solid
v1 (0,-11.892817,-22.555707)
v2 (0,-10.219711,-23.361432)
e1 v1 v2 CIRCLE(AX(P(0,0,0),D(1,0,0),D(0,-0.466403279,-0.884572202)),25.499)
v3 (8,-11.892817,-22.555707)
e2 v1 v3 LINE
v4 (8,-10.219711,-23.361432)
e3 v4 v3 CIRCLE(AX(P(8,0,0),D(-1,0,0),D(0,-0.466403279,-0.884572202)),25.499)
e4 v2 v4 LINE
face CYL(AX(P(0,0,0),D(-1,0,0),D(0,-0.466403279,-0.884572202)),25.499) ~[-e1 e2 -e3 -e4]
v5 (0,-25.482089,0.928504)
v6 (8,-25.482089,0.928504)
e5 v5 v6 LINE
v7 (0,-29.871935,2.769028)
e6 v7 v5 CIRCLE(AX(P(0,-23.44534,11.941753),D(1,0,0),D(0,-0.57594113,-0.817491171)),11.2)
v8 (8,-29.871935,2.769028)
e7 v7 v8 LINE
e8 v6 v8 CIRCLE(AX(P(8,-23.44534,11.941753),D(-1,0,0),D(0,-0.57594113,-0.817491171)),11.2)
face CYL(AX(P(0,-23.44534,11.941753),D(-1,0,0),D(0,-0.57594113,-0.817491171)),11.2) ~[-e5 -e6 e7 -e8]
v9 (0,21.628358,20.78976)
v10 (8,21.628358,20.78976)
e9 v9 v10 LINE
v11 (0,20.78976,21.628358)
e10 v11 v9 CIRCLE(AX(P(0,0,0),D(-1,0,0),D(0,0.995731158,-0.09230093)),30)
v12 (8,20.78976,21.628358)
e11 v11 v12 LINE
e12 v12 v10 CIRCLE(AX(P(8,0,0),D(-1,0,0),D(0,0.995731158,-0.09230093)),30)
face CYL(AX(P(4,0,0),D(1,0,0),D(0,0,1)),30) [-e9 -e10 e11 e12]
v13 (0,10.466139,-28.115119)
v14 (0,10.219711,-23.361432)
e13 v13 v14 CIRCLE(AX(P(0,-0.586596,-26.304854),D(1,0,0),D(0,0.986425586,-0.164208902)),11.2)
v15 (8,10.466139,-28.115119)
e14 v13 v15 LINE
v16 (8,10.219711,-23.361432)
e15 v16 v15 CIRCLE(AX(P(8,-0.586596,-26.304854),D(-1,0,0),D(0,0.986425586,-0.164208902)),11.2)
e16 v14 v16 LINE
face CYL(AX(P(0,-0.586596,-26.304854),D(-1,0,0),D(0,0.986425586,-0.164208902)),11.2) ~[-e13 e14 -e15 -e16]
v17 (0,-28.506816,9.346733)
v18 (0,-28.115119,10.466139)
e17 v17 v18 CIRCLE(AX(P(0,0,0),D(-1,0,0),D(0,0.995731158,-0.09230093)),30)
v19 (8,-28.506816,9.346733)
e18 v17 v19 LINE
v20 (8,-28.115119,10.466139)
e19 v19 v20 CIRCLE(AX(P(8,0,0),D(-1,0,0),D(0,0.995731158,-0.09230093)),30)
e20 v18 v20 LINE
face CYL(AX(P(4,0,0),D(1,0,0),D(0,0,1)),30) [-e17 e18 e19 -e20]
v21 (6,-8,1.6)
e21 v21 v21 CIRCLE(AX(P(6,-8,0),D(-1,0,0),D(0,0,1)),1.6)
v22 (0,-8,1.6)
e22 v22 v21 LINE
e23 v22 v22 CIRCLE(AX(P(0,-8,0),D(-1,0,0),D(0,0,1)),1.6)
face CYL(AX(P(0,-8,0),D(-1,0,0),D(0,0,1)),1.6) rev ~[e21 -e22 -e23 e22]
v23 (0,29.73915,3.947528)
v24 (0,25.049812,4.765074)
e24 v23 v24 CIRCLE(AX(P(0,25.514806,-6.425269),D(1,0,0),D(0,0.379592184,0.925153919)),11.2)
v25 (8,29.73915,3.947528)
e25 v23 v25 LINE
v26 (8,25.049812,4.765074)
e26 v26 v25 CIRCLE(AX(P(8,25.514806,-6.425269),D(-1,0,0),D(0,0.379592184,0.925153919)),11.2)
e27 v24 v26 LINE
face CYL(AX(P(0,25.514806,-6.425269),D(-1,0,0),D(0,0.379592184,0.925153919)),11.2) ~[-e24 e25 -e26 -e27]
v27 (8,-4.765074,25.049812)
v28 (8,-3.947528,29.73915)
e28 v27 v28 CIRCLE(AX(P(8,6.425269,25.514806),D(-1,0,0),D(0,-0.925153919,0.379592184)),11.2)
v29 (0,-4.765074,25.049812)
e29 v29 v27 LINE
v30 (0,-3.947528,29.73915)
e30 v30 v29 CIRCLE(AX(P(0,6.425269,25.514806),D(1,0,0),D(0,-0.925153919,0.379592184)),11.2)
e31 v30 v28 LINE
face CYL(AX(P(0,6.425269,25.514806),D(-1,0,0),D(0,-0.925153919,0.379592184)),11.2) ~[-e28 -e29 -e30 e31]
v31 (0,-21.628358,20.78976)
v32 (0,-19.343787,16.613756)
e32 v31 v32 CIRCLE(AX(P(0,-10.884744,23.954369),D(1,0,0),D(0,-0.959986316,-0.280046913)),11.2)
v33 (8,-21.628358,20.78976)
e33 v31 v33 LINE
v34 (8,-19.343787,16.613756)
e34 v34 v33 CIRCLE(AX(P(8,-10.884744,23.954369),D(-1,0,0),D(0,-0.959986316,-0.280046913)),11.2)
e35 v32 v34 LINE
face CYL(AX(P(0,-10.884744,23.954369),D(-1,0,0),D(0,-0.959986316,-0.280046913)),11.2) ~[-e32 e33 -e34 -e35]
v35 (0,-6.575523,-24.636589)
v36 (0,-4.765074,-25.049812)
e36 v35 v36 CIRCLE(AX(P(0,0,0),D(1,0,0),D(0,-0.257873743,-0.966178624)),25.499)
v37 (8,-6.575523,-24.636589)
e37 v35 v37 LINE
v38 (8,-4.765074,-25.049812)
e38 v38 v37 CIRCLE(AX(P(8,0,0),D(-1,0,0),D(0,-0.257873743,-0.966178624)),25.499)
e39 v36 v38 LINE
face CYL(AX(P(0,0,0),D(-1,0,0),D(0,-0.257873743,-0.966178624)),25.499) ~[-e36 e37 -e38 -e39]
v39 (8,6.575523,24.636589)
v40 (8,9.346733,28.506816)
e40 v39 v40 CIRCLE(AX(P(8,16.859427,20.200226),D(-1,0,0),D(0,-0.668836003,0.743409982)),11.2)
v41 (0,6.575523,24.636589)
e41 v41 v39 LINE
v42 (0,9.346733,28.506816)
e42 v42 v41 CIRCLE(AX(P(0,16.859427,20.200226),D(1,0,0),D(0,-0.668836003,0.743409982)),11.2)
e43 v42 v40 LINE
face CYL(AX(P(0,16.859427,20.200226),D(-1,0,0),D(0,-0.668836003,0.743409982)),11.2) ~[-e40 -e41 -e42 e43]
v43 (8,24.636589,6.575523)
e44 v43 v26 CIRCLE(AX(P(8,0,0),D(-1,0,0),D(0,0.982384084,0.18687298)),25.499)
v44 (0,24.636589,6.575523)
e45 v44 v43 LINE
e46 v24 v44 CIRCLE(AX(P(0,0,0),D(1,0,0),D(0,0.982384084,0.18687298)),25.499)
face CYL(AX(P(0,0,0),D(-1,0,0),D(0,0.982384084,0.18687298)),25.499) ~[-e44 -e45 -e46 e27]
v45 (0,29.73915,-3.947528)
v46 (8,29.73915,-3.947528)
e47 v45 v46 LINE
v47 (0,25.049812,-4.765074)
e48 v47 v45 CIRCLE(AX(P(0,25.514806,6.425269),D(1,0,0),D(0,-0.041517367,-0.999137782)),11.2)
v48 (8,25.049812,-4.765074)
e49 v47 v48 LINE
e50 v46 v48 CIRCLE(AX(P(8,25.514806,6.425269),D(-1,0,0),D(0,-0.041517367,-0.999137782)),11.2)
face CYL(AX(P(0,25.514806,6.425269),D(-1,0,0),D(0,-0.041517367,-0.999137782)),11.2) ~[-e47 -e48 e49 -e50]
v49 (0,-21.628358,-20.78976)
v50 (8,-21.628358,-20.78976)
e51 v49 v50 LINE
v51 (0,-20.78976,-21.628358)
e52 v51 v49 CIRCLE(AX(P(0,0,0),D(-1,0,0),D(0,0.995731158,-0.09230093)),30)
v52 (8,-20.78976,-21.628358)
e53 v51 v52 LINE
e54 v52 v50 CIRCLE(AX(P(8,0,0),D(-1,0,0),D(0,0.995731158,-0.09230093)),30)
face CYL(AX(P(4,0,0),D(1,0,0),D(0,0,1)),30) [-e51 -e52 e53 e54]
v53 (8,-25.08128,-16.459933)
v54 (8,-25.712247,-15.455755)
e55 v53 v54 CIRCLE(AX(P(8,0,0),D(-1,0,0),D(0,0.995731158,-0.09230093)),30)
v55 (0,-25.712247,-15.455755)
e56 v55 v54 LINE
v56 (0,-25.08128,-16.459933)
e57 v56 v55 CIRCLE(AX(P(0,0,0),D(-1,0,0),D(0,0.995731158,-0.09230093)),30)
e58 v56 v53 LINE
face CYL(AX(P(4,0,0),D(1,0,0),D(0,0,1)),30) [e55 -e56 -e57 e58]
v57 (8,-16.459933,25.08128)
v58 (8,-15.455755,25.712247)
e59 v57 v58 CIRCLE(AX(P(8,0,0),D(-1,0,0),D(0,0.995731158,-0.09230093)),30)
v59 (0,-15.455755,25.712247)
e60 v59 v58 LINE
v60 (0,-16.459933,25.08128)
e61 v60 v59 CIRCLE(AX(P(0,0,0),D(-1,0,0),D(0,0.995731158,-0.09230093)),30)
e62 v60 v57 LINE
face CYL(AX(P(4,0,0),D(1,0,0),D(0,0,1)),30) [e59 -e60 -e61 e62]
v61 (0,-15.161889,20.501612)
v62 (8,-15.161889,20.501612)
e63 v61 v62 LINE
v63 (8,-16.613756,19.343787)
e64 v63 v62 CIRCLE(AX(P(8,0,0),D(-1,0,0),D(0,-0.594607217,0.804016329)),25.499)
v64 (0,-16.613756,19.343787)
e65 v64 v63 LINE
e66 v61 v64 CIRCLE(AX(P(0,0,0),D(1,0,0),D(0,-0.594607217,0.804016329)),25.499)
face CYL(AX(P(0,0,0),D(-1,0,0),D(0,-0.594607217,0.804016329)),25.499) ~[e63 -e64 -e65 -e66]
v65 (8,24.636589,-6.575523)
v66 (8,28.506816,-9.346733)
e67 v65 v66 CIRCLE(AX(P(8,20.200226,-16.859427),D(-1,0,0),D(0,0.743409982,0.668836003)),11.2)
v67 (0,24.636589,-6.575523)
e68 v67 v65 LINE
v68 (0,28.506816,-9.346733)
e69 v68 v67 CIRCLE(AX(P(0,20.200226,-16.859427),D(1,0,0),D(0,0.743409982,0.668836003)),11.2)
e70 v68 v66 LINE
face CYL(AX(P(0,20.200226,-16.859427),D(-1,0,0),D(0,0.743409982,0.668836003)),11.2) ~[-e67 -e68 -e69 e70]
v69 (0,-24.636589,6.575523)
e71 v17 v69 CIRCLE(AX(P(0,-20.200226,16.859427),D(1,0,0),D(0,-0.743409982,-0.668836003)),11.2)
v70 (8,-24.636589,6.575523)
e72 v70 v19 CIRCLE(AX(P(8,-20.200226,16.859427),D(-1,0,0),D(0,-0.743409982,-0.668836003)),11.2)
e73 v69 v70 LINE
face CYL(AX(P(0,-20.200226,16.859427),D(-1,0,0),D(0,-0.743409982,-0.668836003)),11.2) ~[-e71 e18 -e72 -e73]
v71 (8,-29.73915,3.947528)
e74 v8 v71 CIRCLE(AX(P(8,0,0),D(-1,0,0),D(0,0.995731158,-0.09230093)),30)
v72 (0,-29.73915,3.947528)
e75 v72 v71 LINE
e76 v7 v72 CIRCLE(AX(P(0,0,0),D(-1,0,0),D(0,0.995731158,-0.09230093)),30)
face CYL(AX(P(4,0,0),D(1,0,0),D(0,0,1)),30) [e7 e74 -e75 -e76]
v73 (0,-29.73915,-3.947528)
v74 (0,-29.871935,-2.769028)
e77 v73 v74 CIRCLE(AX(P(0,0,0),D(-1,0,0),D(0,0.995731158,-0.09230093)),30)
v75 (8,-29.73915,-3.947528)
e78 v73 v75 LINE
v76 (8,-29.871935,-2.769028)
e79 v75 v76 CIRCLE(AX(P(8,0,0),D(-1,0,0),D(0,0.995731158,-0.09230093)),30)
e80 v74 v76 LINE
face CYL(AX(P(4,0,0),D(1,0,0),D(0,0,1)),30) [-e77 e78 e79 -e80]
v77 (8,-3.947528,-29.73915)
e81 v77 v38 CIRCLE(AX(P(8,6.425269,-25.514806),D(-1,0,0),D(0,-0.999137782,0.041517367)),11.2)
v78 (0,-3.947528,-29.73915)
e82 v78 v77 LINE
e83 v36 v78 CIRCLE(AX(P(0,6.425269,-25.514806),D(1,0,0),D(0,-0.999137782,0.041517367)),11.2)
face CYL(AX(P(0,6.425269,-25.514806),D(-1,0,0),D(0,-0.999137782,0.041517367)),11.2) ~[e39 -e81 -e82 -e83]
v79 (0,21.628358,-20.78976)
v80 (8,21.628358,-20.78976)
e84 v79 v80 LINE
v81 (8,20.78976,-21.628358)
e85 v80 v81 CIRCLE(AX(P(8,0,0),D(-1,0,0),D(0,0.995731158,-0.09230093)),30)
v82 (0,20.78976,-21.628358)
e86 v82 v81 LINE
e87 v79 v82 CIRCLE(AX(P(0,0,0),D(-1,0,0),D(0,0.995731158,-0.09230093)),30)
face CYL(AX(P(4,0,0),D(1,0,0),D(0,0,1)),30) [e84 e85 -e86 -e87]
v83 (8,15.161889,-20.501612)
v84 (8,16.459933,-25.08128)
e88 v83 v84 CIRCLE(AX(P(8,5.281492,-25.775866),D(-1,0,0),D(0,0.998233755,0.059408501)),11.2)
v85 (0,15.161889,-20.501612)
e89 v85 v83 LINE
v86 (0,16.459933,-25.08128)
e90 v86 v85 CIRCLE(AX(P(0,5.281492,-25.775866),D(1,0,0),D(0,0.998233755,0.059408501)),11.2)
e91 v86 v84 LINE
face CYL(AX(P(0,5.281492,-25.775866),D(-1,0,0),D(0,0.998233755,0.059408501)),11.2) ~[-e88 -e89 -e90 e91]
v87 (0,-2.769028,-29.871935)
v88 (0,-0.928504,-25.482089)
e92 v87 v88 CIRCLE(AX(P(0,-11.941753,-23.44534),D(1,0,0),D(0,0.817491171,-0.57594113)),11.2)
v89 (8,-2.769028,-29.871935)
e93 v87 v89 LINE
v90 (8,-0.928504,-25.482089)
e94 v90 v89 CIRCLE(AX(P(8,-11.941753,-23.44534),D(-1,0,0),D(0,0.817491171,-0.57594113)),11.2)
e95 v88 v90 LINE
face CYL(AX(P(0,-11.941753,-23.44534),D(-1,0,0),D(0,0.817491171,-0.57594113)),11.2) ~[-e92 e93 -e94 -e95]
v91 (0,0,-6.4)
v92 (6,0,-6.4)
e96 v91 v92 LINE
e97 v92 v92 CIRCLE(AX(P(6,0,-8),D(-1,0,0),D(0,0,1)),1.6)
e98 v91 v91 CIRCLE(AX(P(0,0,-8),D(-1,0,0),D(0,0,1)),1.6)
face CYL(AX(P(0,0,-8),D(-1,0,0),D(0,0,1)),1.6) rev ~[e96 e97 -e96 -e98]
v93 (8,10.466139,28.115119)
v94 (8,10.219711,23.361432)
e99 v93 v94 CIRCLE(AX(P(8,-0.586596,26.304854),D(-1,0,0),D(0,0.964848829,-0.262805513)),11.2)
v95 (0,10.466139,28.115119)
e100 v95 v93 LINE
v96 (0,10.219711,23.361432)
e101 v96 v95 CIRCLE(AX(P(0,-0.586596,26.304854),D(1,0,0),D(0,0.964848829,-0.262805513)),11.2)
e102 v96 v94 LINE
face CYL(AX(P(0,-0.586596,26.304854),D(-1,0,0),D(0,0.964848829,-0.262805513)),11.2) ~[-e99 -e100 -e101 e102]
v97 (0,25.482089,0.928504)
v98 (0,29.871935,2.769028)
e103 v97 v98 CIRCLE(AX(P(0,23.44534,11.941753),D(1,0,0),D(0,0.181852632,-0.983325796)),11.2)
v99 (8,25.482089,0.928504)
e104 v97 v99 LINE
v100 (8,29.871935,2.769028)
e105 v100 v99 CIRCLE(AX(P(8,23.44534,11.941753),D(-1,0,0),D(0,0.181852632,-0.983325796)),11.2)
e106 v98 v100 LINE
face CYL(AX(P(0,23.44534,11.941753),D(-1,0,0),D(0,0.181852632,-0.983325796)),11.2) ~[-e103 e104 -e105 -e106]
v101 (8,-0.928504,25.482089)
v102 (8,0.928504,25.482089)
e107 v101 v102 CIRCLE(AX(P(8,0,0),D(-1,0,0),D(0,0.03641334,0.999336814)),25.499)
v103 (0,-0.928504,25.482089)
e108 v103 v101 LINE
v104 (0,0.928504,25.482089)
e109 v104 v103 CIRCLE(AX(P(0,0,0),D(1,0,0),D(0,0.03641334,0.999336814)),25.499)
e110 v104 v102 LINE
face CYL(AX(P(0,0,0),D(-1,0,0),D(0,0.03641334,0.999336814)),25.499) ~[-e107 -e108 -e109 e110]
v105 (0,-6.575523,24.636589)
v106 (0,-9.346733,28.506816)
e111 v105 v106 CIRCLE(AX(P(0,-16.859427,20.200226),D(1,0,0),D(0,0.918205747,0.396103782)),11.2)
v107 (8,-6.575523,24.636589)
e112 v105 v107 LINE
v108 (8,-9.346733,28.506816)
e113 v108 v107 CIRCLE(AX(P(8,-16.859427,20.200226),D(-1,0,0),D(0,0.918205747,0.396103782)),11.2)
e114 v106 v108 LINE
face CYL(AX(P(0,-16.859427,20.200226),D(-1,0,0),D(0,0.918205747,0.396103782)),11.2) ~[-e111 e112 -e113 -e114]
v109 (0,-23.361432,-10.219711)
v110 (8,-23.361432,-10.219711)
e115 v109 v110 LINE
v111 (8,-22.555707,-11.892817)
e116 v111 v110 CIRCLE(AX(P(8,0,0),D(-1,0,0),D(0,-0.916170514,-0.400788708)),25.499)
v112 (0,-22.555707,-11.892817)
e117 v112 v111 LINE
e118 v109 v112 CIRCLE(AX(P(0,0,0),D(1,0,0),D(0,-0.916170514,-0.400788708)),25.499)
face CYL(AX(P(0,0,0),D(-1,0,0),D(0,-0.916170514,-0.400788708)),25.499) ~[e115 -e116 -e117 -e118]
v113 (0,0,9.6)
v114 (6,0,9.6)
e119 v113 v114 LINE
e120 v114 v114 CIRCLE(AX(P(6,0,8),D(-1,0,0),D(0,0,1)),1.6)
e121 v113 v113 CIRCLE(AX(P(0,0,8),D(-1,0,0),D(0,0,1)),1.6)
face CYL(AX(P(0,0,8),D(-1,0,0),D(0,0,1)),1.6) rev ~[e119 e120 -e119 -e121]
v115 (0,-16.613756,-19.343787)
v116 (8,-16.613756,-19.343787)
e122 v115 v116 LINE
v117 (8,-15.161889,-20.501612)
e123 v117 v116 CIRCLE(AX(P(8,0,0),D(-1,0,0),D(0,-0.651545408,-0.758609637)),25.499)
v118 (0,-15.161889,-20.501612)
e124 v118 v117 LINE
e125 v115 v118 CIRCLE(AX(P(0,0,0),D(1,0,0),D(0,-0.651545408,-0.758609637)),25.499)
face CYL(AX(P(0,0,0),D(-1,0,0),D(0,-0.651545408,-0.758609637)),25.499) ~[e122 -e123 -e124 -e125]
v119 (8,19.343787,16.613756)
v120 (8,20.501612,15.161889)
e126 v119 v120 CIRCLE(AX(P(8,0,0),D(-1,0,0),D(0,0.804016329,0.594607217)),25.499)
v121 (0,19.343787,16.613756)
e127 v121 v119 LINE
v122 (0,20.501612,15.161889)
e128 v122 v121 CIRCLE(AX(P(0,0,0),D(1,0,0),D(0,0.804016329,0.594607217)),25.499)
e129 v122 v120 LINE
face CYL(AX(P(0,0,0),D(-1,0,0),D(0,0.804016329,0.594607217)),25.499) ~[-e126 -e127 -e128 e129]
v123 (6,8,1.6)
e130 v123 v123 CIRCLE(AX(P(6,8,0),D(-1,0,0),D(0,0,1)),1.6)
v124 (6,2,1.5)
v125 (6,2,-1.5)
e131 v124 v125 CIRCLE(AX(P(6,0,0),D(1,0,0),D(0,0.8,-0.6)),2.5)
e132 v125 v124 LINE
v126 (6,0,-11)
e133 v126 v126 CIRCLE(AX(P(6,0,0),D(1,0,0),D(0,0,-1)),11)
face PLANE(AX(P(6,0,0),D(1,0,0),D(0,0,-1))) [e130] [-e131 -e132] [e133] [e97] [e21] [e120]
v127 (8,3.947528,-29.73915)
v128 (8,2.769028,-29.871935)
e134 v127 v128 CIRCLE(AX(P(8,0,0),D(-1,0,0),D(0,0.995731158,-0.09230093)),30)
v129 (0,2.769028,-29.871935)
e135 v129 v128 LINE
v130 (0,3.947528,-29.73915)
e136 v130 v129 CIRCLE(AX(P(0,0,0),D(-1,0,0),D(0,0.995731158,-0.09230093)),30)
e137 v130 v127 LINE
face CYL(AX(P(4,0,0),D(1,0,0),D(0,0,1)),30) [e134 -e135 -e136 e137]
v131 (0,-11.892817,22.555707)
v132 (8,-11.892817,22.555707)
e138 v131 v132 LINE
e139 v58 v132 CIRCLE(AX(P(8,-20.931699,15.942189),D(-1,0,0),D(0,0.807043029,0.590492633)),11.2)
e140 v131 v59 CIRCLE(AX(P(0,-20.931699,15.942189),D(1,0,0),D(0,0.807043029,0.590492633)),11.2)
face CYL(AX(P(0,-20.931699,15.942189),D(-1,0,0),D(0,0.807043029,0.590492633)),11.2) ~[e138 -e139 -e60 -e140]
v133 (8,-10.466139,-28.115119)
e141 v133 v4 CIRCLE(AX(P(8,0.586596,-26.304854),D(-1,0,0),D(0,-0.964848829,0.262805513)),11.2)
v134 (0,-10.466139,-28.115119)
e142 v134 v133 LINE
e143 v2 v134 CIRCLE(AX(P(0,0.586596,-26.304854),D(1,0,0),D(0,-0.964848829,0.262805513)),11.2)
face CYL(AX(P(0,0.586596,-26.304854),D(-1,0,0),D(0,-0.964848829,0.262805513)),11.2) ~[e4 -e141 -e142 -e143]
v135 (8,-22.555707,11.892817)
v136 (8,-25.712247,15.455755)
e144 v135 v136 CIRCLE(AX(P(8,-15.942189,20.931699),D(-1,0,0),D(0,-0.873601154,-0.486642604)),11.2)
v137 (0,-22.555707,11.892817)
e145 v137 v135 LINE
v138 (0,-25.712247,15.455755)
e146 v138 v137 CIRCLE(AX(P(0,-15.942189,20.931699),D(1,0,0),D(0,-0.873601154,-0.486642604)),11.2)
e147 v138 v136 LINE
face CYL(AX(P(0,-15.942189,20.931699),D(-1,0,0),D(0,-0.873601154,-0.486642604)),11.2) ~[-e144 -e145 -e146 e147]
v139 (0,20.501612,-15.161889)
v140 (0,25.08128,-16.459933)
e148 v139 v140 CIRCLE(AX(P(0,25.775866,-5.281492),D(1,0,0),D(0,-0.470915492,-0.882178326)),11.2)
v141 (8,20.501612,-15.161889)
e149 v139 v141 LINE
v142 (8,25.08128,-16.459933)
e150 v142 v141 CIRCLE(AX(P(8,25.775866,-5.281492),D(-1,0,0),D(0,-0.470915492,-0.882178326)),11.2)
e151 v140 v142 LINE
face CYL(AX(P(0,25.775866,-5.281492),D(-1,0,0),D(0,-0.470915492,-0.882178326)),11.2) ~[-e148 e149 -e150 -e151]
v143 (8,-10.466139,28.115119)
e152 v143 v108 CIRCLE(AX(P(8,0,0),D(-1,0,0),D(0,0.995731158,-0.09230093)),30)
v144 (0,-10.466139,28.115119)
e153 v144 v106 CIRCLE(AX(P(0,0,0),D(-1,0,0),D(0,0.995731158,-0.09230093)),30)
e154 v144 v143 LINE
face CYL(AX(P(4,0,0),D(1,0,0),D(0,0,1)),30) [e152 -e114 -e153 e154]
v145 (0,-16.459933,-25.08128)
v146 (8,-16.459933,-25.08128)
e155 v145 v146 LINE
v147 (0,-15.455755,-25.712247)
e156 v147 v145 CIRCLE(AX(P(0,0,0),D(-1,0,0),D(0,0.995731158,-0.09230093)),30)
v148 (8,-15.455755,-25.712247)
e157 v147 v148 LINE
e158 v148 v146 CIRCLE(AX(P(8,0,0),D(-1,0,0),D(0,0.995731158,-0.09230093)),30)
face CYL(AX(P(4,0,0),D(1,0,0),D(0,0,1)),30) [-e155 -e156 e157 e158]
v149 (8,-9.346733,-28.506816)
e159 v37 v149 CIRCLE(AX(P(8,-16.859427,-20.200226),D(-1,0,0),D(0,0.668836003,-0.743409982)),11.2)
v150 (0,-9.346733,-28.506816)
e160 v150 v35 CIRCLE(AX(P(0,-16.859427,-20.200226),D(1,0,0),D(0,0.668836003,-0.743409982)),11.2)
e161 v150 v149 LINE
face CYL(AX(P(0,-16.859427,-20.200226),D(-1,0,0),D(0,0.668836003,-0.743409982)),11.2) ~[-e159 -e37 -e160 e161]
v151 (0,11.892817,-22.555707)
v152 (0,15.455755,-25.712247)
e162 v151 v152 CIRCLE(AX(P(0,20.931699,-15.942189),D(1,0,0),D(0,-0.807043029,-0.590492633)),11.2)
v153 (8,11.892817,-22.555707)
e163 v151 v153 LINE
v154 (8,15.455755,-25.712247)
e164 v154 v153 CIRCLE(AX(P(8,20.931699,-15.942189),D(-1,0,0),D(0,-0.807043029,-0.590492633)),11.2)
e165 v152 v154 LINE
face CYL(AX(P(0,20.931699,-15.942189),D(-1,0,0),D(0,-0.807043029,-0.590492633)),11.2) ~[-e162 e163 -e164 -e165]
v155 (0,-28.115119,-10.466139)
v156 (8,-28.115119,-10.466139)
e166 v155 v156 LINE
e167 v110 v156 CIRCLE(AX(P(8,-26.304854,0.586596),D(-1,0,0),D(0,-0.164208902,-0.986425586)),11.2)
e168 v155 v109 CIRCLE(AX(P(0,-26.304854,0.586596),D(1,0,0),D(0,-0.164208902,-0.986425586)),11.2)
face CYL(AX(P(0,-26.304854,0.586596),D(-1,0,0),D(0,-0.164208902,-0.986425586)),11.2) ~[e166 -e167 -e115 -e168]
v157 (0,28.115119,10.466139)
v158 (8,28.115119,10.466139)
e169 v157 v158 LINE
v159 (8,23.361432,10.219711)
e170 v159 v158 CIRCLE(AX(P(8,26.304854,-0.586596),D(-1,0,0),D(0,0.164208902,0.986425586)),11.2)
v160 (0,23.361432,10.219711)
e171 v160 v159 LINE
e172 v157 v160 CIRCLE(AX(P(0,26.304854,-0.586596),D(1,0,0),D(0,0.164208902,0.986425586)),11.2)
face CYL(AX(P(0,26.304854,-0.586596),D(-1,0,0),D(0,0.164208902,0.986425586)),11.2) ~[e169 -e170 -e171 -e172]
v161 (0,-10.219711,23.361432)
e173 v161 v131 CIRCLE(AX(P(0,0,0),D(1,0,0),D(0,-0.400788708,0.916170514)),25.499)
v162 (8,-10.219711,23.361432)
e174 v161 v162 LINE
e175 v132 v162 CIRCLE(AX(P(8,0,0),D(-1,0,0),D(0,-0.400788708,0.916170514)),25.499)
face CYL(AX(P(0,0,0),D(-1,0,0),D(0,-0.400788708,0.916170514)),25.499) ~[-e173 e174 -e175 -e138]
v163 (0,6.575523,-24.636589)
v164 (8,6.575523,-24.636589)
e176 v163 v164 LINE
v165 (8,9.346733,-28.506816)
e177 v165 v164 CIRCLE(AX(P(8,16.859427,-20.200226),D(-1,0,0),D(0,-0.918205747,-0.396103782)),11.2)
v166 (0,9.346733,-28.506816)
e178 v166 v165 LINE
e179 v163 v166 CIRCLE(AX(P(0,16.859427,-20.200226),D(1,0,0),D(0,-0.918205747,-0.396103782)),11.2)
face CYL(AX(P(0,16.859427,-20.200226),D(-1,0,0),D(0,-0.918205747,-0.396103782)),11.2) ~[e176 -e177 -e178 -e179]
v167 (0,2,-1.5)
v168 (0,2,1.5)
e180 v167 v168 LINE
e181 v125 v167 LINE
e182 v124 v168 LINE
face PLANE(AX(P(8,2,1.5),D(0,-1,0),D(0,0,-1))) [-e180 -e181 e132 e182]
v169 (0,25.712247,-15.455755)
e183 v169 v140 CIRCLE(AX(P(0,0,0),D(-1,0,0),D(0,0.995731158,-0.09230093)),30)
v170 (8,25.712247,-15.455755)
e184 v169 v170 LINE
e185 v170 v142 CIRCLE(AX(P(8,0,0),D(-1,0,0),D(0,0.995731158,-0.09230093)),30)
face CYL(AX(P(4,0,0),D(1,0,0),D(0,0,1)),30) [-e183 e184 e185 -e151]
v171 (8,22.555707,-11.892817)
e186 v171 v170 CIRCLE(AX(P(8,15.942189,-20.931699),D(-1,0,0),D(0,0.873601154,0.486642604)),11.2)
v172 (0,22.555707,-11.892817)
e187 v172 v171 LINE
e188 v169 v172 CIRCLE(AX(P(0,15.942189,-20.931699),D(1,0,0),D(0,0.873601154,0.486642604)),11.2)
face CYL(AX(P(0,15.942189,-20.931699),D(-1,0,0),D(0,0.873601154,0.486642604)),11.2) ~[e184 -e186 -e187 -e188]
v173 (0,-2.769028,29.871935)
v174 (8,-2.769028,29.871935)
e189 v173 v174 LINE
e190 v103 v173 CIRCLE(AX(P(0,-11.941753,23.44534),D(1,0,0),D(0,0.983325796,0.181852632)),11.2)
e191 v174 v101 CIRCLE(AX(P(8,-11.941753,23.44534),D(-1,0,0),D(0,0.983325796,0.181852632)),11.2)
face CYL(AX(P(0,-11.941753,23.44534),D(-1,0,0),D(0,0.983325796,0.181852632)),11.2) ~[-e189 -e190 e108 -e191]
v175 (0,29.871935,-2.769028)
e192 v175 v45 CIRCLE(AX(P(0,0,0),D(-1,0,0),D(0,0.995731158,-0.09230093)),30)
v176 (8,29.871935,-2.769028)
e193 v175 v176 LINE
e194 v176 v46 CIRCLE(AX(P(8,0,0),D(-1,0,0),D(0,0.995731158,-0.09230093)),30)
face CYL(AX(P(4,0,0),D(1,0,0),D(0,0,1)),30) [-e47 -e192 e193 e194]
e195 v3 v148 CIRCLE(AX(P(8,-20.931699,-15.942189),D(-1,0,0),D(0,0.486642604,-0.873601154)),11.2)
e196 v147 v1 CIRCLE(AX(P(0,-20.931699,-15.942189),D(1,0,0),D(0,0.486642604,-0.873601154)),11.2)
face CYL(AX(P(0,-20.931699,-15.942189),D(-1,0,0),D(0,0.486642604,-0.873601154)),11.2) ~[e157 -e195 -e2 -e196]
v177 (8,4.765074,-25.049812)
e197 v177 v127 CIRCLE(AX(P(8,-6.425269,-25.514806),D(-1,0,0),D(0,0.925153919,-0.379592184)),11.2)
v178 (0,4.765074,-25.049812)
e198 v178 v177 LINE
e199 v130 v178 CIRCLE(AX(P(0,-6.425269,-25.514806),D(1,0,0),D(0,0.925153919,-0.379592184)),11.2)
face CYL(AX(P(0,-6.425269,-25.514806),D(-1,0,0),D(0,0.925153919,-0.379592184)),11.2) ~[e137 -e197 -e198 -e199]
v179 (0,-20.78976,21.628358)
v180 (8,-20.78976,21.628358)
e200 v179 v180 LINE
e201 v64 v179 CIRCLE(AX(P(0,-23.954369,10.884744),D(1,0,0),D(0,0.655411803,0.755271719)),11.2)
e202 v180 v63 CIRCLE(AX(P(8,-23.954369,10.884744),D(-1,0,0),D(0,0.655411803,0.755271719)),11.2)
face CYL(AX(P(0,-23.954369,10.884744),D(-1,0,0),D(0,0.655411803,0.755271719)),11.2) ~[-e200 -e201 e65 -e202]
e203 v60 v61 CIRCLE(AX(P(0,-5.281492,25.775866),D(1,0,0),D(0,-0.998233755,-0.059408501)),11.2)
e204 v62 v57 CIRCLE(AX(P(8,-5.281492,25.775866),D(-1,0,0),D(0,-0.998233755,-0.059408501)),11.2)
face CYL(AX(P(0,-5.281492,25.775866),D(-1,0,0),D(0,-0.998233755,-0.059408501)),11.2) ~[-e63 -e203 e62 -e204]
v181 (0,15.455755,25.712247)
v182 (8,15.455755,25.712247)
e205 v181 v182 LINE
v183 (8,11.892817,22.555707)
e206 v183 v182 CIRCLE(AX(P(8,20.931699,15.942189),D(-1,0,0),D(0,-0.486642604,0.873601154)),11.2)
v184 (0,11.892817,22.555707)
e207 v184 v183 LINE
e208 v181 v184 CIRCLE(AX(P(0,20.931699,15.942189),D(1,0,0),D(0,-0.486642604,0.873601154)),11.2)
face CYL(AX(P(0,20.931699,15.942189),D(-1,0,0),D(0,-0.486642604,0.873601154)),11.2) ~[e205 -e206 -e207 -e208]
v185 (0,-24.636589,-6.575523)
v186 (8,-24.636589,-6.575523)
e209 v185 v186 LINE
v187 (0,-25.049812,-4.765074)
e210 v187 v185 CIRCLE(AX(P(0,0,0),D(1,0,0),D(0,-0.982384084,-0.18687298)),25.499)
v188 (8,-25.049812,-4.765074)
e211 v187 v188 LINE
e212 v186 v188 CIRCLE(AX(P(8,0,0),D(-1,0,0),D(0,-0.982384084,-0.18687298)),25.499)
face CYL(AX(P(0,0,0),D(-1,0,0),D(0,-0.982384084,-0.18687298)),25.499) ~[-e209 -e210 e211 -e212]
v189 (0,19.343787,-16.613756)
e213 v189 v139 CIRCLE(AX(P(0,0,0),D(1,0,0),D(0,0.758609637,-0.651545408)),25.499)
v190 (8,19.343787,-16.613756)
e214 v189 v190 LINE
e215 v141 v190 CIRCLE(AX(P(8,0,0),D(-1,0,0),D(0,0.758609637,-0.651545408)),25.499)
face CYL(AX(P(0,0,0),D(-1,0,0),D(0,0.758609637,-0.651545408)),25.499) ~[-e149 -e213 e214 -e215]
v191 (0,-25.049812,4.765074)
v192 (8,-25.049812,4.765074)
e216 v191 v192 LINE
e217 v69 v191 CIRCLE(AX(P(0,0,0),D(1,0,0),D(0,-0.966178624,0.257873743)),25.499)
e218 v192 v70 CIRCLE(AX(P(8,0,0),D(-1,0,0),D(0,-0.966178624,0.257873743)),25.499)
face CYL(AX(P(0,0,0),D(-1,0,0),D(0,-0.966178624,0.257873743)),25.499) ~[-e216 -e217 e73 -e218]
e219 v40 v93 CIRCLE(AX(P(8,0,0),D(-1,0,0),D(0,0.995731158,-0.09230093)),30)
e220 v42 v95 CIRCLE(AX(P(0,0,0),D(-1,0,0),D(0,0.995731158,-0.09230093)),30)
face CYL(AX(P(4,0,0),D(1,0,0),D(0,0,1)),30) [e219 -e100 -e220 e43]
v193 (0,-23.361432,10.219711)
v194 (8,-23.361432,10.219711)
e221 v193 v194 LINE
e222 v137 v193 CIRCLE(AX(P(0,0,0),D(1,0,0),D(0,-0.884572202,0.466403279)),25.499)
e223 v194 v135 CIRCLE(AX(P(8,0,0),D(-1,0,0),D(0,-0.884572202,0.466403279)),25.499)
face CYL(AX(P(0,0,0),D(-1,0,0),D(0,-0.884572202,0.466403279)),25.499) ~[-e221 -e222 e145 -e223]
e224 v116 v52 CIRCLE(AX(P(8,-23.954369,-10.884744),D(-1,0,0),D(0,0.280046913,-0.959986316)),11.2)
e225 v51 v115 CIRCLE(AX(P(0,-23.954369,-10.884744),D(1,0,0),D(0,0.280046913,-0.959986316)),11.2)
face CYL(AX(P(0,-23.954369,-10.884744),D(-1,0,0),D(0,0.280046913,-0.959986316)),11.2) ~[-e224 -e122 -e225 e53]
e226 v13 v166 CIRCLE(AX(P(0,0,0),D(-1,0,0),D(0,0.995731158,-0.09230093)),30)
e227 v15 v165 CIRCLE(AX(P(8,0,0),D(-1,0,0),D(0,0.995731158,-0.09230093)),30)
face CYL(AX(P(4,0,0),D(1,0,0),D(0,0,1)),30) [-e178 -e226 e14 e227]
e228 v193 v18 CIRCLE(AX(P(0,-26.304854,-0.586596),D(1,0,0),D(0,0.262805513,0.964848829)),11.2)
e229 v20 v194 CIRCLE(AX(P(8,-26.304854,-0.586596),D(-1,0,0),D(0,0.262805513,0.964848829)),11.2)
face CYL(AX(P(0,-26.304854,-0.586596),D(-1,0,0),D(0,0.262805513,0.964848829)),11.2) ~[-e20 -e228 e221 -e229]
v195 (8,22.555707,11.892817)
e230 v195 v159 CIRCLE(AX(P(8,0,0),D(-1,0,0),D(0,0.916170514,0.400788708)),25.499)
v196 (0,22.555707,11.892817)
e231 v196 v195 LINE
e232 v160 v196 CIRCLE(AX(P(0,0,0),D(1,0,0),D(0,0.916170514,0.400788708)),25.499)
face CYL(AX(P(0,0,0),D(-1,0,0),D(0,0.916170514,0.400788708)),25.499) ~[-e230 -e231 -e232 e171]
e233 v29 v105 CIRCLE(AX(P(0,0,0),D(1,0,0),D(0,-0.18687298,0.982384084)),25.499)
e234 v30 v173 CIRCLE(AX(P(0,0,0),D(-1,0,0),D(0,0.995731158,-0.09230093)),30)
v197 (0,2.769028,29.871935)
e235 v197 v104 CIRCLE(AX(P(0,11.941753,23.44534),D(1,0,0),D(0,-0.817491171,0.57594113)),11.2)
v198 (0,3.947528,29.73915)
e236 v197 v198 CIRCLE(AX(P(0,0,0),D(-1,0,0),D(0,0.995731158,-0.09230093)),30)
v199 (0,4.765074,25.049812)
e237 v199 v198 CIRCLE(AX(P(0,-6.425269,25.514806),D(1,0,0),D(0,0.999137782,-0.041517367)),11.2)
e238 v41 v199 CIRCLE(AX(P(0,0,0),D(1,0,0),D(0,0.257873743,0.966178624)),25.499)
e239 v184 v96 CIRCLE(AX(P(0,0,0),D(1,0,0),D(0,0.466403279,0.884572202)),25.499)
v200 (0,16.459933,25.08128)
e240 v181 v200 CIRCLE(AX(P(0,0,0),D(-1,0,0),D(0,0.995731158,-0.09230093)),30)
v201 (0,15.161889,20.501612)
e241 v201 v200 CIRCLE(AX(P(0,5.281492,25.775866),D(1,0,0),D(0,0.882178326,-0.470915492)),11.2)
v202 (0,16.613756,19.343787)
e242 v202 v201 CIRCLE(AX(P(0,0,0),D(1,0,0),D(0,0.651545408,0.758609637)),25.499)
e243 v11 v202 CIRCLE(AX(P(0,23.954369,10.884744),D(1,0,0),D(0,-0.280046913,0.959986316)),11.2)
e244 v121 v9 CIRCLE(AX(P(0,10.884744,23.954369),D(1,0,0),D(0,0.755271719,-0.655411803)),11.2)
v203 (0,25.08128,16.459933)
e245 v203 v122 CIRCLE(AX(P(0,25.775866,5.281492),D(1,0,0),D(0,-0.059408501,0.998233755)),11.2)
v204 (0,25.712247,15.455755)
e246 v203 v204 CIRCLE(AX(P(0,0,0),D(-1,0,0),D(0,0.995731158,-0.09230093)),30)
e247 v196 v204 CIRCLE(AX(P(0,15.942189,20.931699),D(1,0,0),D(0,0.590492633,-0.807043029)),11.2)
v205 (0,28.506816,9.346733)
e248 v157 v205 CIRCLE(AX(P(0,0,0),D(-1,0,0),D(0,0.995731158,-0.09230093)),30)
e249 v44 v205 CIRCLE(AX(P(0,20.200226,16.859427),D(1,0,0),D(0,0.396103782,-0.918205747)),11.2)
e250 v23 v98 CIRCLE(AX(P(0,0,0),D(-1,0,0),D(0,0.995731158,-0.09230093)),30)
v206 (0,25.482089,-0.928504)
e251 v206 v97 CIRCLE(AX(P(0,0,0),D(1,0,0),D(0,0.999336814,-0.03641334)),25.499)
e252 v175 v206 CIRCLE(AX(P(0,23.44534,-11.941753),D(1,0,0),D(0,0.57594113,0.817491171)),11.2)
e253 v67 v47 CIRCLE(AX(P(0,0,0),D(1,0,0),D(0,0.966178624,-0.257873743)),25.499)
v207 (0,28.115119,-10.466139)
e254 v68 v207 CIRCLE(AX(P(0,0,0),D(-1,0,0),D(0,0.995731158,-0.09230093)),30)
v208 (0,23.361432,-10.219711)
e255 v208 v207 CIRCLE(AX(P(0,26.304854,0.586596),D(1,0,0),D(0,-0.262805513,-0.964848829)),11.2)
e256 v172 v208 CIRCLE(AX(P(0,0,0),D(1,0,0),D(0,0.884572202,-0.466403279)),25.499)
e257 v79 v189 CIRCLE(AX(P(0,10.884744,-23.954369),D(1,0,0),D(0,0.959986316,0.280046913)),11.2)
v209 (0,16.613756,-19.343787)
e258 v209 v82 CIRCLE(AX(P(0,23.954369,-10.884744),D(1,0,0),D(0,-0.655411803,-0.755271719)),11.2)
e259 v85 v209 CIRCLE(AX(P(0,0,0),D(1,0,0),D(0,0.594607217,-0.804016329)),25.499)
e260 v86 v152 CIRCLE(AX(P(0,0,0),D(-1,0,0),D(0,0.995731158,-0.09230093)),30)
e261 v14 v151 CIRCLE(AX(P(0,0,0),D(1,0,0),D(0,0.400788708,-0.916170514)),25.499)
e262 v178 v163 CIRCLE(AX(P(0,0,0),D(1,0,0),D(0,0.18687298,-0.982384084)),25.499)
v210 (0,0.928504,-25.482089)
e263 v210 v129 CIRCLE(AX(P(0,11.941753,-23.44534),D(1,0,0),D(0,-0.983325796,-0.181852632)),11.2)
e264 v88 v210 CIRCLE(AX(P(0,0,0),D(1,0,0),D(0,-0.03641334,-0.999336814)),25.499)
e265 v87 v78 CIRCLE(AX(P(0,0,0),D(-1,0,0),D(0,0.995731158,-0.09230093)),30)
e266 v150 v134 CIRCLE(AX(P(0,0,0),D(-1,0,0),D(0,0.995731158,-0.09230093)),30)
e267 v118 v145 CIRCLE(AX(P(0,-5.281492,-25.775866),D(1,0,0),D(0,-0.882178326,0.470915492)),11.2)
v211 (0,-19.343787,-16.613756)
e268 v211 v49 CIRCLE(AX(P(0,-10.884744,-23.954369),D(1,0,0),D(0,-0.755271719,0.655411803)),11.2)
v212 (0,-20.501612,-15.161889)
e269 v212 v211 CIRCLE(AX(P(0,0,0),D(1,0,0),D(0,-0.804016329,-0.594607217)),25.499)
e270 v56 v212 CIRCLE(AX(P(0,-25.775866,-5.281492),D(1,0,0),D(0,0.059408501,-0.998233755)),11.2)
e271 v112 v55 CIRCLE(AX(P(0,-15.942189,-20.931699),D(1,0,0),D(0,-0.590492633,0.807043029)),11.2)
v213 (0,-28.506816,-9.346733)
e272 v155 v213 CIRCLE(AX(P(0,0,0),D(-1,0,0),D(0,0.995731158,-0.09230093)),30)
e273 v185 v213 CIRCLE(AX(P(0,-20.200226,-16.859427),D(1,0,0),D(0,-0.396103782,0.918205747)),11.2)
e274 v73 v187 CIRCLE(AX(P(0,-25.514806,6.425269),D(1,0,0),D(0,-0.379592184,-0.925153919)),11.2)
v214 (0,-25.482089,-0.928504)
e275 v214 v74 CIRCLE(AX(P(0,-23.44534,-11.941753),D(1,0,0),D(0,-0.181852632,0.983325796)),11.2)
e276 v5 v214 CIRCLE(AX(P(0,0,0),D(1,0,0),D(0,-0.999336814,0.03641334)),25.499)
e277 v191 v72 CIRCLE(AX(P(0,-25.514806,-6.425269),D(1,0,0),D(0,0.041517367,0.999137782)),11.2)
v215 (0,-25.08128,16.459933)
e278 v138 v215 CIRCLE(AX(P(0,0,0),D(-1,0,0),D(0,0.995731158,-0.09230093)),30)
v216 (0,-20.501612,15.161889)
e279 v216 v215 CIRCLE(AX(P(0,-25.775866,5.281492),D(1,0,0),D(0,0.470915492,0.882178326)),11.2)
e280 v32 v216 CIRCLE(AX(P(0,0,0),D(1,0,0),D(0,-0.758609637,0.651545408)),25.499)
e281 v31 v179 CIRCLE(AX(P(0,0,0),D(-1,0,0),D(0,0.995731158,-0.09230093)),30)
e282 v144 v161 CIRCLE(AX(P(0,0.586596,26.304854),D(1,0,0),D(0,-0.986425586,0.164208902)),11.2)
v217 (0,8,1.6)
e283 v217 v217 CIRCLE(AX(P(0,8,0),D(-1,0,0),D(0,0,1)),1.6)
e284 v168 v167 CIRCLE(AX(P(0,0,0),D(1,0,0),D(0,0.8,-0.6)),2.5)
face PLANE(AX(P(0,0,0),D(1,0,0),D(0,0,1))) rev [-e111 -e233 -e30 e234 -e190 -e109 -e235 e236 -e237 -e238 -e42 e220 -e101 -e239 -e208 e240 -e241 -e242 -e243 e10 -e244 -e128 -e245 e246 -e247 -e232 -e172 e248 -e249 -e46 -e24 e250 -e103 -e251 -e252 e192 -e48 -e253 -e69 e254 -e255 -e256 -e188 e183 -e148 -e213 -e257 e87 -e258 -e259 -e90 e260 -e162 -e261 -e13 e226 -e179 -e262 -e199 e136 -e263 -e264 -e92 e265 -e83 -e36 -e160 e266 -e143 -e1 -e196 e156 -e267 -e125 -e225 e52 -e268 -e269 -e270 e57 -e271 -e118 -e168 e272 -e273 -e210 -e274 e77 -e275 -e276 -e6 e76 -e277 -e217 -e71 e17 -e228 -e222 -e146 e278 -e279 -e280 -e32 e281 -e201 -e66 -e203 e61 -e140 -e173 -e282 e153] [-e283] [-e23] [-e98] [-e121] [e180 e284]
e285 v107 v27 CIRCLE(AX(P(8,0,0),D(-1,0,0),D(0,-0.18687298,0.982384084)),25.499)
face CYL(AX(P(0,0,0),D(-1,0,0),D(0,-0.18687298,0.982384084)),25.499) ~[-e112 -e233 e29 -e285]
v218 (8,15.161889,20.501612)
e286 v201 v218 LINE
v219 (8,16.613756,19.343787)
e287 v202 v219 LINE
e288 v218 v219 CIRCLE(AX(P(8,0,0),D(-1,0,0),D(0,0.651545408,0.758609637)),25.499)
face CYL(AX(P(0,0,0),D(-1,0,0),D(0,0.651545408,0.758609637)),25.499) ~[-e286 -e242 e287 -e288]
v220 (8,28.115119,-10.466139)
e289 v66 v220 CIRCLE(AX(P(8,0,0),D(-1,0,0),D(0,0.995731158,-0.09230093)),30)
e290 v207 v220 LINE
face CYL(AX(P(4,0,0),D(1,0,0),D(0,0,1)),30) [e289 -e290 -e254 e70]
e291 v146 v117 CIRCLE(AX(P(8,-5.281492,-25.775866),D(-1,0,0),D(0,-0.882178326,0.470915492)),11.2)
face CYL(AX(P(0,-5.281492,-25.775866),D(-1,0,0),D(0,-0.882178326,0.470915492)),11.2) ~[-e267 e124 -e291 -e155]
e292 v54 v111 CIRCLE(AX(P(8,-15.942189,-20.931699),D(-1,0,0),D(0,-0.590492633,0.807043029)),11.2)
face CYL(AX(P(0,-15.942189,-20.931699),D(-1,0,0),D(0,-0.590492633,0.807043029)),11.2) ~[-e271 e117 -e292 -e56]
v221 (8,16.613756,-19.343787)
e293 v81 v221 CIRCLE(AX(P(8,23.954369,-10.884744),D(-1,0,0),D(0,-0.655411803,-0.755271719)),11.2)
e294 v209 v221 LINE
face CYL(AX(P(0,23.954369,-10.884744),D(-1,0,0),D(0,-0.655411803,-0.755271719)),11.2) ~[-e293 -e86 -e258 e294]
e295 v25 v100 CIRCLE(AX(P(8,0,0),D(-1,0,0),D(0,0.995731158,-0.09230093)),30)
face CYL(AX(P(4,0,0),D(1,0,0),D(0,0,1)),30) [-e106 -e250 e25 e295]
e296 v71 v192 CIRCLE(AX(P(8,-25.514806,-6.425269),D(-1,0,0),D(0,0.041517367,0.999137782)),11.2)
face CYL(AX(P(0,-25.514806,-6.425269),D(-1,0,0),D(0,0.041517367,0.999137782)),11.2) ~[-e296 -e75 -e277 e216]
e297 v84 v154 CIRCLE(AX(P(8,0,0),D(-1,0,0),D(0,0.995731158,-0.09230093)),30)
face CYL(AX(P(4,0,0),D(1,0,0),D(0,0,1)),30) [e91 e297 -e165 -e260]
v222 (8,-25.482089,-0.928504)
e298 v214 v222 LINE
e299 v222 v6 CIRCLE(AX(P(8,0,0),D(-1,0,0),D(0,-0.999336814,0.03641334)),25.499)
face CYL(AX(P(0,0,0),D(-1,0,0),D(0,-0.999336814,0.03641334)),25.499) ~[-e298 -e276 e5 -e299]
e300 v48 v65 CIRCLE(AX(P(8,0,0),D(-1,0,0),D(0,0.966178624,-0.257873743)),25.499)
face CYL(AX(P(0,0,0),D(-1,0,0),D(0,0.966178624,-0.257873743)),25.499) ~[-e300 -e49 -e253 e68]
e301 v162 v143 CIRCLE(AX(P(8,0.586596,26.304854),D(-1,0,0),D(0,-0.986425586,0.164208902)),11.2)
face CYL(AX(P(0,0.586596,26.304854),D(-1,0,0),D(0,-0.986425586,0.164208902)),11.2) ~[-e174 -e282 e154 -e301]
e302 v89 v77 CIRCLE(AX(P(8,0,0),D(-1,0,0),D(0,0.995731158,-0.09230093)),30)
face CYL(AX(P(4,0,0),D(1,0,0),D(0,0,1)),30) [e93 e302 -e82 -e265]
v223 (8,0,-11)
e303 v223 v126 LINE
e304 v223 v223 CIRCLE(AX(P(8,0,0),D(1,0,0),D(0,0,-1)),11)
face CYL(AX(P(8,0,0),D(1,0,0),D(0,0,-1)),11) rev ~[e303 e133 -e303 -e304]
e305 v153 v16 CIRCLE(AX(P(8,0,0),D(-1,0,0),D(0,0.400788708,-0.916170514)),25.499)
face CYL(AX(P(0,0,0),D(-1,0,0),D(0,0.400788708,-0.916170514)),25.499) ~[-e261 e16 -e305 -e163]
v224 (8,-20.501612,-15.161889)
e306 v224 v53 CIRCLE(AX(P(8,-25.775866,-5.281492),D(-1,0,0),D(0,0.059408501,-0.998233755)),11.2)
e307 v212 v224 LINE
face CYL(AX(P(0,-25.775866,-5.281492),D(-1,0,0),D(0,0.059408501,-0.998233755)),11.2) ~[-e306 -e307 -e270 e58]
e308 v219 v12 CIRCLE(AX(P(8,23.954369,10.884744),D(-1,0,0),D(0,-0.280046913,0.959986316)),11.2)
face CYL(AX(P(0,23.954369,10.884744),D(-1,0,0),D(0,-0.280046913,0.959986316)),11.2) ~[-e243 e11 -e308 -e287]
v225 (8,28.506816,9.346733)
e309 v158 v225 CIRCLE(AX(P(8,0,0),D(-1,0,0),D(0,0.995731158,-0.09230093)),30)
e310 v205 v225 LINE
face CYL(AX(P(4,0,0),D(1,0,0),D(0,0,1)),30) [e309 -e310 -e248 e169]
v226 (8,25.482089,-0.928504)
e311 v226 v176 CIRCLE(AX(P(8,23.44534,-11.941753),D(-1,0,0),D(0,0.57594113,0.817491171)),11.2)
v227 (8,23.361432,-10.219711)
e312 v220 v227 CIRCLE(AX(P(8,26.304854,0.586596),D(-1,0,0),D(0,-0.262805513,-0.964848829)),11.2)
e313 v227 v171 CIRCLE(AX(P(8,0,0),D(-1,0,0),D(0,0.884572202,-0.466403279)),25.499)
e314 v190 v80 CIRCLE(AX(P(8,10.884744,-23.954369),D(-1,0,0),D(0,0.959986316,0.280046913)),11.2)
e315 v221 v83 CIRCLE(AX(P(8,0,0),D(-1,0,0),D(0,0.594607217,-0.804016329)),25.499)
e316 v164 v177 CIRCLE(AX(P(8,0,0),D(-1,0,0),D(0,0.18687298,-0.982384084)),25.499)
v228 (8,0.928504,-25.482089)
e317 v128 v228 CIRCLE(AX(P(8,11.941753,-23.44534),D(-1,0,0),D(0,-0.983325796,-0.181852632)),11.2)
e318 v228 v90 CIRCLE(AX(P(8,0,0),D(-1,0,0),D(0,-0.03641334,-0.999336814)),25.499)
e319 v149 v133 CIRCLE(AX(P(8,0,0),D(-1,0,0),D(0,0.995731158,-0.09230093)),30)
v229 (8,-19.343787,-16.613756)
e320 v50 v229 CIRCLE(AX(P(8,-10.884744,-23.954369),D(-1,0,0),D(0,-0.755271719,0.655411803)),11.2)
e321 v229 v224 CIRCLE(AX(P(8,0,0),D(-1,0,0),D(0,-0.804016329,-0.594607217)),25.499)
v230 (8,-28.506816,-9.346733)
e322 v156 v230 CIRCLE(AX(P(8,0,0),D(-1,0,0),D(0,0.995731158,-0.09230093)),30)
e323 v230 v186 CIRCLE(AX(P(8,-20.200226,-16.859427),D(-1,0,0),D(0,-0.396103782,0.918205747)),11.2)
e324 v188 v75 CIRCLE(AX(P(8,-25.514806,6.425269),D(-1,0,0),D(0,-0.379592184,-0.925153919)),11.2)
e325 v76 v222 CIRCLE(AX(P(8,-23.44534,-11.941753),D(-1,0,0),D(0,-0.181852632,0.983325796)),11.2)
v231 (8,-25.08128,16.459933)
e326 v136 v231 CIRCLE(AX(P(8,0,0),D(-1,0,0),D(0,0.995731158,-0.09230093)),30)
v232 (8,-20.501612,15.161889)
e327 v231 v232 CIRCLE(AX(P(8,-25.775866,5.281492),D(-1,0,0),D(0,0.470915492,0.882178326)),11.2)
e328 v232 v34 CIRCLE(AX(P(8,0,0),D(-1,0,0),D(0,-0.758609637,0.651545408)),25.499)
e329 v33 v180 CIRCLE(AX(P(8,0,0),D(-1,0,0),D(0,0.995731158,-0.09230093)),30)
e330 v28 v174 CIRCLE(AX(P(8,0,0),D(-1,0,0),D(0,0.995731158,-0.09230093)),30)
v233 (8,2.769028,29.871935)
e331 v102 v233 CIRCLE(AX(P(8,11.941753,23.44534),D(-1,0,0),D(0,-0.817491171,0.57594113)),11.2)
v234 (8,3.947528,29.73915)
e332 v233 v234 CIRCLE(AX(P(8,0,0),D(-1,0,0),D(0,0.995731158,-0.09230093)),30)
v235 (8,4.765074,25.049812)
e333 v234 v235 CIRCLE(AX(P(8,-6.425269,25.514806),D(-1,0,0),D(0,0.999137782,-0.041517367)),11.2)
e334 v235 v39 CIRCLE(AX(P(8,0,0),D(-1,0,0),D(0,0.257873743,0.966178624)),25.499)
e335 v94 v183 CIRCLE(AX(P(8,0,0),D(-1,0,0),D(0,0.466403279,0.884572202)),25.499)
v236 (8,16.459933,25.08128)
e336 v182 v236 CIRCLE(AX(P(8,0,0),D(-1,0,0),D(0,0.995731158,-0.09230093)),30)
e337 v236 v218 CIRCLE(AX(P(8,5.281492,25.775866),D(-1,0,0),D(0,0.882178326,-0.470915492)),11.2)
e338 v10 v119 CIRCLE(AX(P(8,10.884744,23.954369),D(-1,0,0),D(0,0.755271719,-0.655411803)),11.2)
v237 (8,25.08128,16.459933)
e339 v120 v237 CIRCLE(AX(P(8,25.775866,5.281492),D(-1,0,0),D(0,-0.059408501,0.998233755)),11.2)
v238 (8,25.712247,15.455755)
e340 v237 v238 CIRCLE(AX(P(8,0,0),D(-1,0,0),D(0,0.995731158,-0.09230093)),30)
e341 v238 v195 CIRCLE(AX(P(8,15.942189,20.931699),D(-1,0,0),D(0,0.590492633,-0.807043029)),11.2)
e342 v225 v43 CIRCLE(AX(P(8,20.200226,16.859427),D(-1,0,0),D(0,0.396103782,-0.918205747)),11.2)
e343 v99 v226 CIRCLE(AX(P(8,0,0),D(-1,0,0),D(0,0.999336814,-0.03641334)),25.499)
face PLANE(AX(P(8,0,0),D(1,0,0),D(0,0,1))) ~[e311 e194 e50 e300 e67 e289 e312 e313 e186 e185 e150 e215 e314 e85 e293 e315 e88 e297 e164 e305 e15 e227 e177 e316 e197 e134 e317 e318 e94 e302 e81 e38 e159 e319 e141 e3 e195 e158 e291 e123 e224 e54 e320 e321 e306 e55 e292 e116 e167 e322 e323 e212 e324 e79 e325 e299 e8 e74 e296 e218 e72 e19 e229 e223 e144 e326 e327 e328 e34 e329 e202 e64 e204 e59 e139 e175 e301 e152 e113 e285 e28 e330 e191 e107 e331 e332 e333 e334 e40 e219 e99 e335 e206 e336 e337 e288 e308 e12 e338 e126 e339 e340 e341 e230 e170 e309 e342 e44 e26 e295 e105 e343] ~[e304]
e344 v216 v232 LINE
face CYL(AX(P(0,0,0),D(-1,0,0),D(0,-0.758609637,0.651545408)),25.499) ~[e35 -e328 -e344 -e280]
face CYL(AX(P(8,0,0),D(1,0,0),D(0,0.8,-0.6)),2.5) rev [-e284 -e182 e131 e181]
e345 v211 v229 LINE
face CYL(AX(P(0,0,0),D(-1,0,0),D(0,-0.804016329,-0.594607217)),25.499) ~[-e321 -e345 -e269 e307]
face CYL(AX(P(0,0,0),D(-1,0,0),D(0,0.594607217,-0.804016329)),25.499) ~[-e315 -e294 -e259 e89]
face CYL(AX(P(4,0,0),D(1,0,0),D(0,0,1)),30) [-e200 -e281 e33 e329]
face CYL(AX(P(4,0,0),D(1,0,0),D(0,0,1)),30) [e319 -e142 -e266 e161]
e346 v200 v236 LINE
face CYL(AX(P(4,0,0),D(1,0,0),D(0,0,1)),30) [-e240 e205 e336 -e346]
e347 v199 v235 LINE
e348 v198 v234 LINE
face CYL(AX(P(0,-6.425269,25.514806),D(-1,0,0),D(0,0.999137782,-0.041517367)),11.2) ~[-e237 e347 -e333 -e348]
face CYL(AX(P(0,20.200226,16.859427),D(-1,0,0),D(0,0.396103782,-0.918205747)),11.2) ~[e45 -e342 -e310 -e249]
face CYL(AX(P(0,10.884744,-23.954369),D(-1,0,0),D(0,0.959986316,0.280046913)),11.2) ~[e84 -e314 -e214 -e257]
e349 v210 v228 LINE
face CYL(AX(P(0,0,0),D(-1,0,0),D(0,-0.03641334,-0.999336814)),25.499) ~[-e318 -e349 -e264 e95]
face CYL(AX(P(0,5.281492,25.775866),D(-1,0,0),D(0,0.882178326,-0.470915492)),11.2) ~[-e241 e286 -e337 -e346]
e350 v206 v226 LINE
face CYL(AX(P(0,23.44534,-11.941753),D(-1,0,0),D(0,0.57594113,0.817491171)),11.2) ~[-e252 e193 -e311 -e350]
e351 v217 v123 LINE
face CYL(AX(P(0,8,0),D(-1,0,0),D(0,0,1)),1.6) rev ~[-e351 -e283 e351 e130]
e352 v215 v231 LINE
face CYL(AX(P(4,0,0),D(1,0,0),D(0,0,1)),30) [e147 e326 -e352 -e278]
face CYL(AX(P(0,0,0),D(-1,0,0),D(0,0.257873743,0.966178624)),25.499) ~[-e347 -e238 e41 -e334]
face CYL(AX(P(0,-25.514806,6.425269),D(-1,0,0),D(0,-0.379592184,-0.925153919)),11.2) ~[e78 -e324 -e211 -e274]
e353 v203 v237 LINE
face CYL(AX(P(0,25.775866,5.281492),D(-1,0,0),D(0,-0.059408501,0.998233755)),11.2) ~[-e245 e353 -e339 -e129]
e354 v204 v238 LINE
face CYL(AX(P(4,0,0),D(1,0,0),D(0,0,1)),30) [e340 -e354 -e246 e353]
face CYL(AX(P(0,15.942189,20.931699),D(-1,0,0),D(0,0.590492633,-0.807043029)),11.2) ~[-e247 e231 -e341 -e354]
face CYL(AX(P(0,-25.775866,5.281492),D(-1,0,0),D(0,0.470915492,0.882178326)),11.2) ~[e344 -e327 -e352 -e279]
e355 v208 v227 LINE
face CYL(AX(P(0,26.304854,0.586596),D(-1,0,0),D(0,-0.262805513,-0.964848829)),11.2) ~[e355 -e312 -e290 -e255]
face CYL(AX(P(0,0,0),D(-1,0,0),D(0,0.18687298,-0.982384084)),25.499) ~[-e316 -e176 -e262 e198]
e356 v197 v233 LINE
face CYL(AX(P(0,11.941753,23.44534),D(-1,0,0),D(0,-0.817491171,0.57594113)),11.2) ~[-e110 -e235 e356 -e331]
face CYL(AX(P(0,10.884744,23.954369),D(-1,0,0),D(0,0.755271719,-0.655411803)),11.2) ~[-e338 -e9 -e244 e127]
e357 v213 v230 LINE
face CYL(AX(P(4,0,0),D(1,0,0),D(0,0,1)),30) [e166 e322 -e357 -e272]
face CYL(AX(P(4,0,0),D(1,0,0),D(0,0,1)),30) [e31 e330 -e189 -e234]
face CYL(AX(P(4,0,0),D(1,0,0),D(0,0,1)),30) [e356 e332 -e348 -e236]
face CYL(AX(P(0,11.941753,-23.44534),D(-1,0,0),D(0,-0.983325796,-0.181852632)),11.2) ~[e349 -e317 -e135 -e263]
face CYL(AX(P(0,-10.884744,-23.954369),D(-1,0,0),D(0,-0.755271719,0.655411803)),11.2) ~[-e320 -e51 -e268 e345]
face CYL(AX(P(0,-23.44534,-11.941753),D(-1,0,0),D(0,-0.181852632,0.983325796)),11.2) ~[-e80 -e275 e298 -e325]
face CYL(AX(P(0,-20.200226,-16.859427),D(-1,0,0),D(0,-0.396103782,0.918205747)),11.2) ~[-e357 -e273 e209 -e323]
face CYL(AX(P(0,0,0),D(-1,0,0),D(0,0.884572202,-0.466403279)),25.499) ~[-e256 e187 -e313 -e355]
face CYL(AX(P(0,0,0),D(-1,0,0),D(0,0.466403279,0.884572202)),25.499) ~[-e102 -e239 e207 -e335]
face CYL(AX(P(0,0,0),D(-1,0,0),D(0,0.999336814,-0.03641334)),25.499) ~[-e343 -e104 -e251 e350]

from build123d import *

# Parameters (mm, degrees)
BASPROSKE_W              = 8
BASPROSKE_H              = 30
TOOTHCUT_DEPTH           = 44.17406629
TEETHCUTS_COUNT          = 28
TEETHCUTS_ANGLE          = 347.142857143
BORSKE_R                 = 0.1
BORE_DEPTH               = 50.0000508
TAGLIO_ESTRUSIONE1_DEPTH = 30
SCHIZZO2_R               = 1.6
TAGLIO_ESTRUSIONE2_DEPTH = 10
SCHIZZO3_R               = 11
TAGLIO_ESTRUSIONE3_DEPTH = 2


with BuildPart() as part:
    # BasProSke → Base-Revolve (revolve)
    with BuildSketch(Plane(origin=(0, 0, 0), x_dir=(1, 0, 0), z_dir=(0, 1, 0)), mode=Mode.PRIVATE) as base_revolve_sk:
        with Locations((4, 15)):
            Rectangle(BASPROSKE_W, BASPROSKE_H)
    revolve(base_revolve_sk.sketch.rotate(Axis((-10, 0, 0), (1, 0, 0)), 180), axis=Axis((-10, 0, 0), (1, 0, 0)))

    # TooCutSke → ToothCut (cut, through all)
    with BuildSketch(Plane(origin=(0, 0, 0), x_dir=(0, 0, -1), z_dir=(1, 0, 0))):
        with BuildLine():
            ThreePointArc((0.928503763, 25.482089431), (0, 25.499), (-0.928503763, 25.482089431))
            ThreePointArc((-0.928503763, 25.482089431), (-1.618524429, 27.789411612), (-2.78585155, 29.895880591))
            ThreePointArc((-2.78585155, 29.895880591), (0, 30.0254), (2.78585155, 29.895880591))
            ThreePointArc((2.78585155, 29.895880591), (1.618524429, 27.789411612), (0.928503763, 25.482089431))
        make_face()
    toothcut = extrude(amount=TOOTHCUT_DEPTH, mode=Mode.SUBTRACT)

    # TeethCuts: ToothCut ×28 about axis
    teethcuts_axis = Axis((-10, 0, 0), (1, 0, 0))
    for i in range(1, TEETHCUTS_COUNT):
        add(toothcut.rotate(teethcuts_axis, i * TEETHCUTS_ANGLE / (TEETHCUTS_COUNT - 1)), mode=Mode.SUBTRACT)

    # BorSke → Bore (cut, symmetric)
    with BuildSketch(Plane(origin=(0, 0, 0), x_dir=(0, 0, -1), z_dir=(1, 0, 0))):
        with Locations(Location((0, 0, 0), (0, 0, 180))):
            Circle(BORSKE_R)
    extrude(amount=BORE_DEPTH, both=True, mode=Mode.SUBTRACT)

    # Schizzo1 → Taglio-Estrusione1 (cut)
    with BuildSketch(Plane(origin=(8, 0, 0), x_dir=(0, 0, -1), z_dir=(1, 0, 0))):
        with BuildLine():
            Line((-1.5, 2), (1.5, 2))
            ThreePointArc((1.5, 2), (0, -2.5), (-1.5, 2))
        make_face()
    extrude(amount=-TAGLIO_ESTRUSIONE1_DEPTH, mode=Mode.SUBTRACT)

    # Schizzo2 → Taglio-Estrusione2 (cut)
    with BuildSketch(Plane.ZY):
        with Locations((0, 8)):
            Circle(SCHIZZO2_R)
        with Locations((8, 0)):
            Circle(SCHIZZO2_R)
        with Locations((0, -8)):
            Circle(SCHIZZO2_R)
        with Locations((-8, 0)):
            Circle(SCHIZZO2_R)
    extrude(amount=-TAGLIO_ESTRUSIONE2_DEPTH, mode=Mode.SUBTRACT)

    # Schizzo3 → Taglio-Estrusione3 (cut)
    with BuildSketch(Plane(origin=(8, 0, 0), x_dir=(0, 0, -1), z_dir=(1, 0, 0))):
        Circle(SCHIZZO3_R)
    extrude(amount=-TAGLIO_ESTRUSIONE3_DEPTH, mode=Mode.SUBTRACT)


solid = part.part
